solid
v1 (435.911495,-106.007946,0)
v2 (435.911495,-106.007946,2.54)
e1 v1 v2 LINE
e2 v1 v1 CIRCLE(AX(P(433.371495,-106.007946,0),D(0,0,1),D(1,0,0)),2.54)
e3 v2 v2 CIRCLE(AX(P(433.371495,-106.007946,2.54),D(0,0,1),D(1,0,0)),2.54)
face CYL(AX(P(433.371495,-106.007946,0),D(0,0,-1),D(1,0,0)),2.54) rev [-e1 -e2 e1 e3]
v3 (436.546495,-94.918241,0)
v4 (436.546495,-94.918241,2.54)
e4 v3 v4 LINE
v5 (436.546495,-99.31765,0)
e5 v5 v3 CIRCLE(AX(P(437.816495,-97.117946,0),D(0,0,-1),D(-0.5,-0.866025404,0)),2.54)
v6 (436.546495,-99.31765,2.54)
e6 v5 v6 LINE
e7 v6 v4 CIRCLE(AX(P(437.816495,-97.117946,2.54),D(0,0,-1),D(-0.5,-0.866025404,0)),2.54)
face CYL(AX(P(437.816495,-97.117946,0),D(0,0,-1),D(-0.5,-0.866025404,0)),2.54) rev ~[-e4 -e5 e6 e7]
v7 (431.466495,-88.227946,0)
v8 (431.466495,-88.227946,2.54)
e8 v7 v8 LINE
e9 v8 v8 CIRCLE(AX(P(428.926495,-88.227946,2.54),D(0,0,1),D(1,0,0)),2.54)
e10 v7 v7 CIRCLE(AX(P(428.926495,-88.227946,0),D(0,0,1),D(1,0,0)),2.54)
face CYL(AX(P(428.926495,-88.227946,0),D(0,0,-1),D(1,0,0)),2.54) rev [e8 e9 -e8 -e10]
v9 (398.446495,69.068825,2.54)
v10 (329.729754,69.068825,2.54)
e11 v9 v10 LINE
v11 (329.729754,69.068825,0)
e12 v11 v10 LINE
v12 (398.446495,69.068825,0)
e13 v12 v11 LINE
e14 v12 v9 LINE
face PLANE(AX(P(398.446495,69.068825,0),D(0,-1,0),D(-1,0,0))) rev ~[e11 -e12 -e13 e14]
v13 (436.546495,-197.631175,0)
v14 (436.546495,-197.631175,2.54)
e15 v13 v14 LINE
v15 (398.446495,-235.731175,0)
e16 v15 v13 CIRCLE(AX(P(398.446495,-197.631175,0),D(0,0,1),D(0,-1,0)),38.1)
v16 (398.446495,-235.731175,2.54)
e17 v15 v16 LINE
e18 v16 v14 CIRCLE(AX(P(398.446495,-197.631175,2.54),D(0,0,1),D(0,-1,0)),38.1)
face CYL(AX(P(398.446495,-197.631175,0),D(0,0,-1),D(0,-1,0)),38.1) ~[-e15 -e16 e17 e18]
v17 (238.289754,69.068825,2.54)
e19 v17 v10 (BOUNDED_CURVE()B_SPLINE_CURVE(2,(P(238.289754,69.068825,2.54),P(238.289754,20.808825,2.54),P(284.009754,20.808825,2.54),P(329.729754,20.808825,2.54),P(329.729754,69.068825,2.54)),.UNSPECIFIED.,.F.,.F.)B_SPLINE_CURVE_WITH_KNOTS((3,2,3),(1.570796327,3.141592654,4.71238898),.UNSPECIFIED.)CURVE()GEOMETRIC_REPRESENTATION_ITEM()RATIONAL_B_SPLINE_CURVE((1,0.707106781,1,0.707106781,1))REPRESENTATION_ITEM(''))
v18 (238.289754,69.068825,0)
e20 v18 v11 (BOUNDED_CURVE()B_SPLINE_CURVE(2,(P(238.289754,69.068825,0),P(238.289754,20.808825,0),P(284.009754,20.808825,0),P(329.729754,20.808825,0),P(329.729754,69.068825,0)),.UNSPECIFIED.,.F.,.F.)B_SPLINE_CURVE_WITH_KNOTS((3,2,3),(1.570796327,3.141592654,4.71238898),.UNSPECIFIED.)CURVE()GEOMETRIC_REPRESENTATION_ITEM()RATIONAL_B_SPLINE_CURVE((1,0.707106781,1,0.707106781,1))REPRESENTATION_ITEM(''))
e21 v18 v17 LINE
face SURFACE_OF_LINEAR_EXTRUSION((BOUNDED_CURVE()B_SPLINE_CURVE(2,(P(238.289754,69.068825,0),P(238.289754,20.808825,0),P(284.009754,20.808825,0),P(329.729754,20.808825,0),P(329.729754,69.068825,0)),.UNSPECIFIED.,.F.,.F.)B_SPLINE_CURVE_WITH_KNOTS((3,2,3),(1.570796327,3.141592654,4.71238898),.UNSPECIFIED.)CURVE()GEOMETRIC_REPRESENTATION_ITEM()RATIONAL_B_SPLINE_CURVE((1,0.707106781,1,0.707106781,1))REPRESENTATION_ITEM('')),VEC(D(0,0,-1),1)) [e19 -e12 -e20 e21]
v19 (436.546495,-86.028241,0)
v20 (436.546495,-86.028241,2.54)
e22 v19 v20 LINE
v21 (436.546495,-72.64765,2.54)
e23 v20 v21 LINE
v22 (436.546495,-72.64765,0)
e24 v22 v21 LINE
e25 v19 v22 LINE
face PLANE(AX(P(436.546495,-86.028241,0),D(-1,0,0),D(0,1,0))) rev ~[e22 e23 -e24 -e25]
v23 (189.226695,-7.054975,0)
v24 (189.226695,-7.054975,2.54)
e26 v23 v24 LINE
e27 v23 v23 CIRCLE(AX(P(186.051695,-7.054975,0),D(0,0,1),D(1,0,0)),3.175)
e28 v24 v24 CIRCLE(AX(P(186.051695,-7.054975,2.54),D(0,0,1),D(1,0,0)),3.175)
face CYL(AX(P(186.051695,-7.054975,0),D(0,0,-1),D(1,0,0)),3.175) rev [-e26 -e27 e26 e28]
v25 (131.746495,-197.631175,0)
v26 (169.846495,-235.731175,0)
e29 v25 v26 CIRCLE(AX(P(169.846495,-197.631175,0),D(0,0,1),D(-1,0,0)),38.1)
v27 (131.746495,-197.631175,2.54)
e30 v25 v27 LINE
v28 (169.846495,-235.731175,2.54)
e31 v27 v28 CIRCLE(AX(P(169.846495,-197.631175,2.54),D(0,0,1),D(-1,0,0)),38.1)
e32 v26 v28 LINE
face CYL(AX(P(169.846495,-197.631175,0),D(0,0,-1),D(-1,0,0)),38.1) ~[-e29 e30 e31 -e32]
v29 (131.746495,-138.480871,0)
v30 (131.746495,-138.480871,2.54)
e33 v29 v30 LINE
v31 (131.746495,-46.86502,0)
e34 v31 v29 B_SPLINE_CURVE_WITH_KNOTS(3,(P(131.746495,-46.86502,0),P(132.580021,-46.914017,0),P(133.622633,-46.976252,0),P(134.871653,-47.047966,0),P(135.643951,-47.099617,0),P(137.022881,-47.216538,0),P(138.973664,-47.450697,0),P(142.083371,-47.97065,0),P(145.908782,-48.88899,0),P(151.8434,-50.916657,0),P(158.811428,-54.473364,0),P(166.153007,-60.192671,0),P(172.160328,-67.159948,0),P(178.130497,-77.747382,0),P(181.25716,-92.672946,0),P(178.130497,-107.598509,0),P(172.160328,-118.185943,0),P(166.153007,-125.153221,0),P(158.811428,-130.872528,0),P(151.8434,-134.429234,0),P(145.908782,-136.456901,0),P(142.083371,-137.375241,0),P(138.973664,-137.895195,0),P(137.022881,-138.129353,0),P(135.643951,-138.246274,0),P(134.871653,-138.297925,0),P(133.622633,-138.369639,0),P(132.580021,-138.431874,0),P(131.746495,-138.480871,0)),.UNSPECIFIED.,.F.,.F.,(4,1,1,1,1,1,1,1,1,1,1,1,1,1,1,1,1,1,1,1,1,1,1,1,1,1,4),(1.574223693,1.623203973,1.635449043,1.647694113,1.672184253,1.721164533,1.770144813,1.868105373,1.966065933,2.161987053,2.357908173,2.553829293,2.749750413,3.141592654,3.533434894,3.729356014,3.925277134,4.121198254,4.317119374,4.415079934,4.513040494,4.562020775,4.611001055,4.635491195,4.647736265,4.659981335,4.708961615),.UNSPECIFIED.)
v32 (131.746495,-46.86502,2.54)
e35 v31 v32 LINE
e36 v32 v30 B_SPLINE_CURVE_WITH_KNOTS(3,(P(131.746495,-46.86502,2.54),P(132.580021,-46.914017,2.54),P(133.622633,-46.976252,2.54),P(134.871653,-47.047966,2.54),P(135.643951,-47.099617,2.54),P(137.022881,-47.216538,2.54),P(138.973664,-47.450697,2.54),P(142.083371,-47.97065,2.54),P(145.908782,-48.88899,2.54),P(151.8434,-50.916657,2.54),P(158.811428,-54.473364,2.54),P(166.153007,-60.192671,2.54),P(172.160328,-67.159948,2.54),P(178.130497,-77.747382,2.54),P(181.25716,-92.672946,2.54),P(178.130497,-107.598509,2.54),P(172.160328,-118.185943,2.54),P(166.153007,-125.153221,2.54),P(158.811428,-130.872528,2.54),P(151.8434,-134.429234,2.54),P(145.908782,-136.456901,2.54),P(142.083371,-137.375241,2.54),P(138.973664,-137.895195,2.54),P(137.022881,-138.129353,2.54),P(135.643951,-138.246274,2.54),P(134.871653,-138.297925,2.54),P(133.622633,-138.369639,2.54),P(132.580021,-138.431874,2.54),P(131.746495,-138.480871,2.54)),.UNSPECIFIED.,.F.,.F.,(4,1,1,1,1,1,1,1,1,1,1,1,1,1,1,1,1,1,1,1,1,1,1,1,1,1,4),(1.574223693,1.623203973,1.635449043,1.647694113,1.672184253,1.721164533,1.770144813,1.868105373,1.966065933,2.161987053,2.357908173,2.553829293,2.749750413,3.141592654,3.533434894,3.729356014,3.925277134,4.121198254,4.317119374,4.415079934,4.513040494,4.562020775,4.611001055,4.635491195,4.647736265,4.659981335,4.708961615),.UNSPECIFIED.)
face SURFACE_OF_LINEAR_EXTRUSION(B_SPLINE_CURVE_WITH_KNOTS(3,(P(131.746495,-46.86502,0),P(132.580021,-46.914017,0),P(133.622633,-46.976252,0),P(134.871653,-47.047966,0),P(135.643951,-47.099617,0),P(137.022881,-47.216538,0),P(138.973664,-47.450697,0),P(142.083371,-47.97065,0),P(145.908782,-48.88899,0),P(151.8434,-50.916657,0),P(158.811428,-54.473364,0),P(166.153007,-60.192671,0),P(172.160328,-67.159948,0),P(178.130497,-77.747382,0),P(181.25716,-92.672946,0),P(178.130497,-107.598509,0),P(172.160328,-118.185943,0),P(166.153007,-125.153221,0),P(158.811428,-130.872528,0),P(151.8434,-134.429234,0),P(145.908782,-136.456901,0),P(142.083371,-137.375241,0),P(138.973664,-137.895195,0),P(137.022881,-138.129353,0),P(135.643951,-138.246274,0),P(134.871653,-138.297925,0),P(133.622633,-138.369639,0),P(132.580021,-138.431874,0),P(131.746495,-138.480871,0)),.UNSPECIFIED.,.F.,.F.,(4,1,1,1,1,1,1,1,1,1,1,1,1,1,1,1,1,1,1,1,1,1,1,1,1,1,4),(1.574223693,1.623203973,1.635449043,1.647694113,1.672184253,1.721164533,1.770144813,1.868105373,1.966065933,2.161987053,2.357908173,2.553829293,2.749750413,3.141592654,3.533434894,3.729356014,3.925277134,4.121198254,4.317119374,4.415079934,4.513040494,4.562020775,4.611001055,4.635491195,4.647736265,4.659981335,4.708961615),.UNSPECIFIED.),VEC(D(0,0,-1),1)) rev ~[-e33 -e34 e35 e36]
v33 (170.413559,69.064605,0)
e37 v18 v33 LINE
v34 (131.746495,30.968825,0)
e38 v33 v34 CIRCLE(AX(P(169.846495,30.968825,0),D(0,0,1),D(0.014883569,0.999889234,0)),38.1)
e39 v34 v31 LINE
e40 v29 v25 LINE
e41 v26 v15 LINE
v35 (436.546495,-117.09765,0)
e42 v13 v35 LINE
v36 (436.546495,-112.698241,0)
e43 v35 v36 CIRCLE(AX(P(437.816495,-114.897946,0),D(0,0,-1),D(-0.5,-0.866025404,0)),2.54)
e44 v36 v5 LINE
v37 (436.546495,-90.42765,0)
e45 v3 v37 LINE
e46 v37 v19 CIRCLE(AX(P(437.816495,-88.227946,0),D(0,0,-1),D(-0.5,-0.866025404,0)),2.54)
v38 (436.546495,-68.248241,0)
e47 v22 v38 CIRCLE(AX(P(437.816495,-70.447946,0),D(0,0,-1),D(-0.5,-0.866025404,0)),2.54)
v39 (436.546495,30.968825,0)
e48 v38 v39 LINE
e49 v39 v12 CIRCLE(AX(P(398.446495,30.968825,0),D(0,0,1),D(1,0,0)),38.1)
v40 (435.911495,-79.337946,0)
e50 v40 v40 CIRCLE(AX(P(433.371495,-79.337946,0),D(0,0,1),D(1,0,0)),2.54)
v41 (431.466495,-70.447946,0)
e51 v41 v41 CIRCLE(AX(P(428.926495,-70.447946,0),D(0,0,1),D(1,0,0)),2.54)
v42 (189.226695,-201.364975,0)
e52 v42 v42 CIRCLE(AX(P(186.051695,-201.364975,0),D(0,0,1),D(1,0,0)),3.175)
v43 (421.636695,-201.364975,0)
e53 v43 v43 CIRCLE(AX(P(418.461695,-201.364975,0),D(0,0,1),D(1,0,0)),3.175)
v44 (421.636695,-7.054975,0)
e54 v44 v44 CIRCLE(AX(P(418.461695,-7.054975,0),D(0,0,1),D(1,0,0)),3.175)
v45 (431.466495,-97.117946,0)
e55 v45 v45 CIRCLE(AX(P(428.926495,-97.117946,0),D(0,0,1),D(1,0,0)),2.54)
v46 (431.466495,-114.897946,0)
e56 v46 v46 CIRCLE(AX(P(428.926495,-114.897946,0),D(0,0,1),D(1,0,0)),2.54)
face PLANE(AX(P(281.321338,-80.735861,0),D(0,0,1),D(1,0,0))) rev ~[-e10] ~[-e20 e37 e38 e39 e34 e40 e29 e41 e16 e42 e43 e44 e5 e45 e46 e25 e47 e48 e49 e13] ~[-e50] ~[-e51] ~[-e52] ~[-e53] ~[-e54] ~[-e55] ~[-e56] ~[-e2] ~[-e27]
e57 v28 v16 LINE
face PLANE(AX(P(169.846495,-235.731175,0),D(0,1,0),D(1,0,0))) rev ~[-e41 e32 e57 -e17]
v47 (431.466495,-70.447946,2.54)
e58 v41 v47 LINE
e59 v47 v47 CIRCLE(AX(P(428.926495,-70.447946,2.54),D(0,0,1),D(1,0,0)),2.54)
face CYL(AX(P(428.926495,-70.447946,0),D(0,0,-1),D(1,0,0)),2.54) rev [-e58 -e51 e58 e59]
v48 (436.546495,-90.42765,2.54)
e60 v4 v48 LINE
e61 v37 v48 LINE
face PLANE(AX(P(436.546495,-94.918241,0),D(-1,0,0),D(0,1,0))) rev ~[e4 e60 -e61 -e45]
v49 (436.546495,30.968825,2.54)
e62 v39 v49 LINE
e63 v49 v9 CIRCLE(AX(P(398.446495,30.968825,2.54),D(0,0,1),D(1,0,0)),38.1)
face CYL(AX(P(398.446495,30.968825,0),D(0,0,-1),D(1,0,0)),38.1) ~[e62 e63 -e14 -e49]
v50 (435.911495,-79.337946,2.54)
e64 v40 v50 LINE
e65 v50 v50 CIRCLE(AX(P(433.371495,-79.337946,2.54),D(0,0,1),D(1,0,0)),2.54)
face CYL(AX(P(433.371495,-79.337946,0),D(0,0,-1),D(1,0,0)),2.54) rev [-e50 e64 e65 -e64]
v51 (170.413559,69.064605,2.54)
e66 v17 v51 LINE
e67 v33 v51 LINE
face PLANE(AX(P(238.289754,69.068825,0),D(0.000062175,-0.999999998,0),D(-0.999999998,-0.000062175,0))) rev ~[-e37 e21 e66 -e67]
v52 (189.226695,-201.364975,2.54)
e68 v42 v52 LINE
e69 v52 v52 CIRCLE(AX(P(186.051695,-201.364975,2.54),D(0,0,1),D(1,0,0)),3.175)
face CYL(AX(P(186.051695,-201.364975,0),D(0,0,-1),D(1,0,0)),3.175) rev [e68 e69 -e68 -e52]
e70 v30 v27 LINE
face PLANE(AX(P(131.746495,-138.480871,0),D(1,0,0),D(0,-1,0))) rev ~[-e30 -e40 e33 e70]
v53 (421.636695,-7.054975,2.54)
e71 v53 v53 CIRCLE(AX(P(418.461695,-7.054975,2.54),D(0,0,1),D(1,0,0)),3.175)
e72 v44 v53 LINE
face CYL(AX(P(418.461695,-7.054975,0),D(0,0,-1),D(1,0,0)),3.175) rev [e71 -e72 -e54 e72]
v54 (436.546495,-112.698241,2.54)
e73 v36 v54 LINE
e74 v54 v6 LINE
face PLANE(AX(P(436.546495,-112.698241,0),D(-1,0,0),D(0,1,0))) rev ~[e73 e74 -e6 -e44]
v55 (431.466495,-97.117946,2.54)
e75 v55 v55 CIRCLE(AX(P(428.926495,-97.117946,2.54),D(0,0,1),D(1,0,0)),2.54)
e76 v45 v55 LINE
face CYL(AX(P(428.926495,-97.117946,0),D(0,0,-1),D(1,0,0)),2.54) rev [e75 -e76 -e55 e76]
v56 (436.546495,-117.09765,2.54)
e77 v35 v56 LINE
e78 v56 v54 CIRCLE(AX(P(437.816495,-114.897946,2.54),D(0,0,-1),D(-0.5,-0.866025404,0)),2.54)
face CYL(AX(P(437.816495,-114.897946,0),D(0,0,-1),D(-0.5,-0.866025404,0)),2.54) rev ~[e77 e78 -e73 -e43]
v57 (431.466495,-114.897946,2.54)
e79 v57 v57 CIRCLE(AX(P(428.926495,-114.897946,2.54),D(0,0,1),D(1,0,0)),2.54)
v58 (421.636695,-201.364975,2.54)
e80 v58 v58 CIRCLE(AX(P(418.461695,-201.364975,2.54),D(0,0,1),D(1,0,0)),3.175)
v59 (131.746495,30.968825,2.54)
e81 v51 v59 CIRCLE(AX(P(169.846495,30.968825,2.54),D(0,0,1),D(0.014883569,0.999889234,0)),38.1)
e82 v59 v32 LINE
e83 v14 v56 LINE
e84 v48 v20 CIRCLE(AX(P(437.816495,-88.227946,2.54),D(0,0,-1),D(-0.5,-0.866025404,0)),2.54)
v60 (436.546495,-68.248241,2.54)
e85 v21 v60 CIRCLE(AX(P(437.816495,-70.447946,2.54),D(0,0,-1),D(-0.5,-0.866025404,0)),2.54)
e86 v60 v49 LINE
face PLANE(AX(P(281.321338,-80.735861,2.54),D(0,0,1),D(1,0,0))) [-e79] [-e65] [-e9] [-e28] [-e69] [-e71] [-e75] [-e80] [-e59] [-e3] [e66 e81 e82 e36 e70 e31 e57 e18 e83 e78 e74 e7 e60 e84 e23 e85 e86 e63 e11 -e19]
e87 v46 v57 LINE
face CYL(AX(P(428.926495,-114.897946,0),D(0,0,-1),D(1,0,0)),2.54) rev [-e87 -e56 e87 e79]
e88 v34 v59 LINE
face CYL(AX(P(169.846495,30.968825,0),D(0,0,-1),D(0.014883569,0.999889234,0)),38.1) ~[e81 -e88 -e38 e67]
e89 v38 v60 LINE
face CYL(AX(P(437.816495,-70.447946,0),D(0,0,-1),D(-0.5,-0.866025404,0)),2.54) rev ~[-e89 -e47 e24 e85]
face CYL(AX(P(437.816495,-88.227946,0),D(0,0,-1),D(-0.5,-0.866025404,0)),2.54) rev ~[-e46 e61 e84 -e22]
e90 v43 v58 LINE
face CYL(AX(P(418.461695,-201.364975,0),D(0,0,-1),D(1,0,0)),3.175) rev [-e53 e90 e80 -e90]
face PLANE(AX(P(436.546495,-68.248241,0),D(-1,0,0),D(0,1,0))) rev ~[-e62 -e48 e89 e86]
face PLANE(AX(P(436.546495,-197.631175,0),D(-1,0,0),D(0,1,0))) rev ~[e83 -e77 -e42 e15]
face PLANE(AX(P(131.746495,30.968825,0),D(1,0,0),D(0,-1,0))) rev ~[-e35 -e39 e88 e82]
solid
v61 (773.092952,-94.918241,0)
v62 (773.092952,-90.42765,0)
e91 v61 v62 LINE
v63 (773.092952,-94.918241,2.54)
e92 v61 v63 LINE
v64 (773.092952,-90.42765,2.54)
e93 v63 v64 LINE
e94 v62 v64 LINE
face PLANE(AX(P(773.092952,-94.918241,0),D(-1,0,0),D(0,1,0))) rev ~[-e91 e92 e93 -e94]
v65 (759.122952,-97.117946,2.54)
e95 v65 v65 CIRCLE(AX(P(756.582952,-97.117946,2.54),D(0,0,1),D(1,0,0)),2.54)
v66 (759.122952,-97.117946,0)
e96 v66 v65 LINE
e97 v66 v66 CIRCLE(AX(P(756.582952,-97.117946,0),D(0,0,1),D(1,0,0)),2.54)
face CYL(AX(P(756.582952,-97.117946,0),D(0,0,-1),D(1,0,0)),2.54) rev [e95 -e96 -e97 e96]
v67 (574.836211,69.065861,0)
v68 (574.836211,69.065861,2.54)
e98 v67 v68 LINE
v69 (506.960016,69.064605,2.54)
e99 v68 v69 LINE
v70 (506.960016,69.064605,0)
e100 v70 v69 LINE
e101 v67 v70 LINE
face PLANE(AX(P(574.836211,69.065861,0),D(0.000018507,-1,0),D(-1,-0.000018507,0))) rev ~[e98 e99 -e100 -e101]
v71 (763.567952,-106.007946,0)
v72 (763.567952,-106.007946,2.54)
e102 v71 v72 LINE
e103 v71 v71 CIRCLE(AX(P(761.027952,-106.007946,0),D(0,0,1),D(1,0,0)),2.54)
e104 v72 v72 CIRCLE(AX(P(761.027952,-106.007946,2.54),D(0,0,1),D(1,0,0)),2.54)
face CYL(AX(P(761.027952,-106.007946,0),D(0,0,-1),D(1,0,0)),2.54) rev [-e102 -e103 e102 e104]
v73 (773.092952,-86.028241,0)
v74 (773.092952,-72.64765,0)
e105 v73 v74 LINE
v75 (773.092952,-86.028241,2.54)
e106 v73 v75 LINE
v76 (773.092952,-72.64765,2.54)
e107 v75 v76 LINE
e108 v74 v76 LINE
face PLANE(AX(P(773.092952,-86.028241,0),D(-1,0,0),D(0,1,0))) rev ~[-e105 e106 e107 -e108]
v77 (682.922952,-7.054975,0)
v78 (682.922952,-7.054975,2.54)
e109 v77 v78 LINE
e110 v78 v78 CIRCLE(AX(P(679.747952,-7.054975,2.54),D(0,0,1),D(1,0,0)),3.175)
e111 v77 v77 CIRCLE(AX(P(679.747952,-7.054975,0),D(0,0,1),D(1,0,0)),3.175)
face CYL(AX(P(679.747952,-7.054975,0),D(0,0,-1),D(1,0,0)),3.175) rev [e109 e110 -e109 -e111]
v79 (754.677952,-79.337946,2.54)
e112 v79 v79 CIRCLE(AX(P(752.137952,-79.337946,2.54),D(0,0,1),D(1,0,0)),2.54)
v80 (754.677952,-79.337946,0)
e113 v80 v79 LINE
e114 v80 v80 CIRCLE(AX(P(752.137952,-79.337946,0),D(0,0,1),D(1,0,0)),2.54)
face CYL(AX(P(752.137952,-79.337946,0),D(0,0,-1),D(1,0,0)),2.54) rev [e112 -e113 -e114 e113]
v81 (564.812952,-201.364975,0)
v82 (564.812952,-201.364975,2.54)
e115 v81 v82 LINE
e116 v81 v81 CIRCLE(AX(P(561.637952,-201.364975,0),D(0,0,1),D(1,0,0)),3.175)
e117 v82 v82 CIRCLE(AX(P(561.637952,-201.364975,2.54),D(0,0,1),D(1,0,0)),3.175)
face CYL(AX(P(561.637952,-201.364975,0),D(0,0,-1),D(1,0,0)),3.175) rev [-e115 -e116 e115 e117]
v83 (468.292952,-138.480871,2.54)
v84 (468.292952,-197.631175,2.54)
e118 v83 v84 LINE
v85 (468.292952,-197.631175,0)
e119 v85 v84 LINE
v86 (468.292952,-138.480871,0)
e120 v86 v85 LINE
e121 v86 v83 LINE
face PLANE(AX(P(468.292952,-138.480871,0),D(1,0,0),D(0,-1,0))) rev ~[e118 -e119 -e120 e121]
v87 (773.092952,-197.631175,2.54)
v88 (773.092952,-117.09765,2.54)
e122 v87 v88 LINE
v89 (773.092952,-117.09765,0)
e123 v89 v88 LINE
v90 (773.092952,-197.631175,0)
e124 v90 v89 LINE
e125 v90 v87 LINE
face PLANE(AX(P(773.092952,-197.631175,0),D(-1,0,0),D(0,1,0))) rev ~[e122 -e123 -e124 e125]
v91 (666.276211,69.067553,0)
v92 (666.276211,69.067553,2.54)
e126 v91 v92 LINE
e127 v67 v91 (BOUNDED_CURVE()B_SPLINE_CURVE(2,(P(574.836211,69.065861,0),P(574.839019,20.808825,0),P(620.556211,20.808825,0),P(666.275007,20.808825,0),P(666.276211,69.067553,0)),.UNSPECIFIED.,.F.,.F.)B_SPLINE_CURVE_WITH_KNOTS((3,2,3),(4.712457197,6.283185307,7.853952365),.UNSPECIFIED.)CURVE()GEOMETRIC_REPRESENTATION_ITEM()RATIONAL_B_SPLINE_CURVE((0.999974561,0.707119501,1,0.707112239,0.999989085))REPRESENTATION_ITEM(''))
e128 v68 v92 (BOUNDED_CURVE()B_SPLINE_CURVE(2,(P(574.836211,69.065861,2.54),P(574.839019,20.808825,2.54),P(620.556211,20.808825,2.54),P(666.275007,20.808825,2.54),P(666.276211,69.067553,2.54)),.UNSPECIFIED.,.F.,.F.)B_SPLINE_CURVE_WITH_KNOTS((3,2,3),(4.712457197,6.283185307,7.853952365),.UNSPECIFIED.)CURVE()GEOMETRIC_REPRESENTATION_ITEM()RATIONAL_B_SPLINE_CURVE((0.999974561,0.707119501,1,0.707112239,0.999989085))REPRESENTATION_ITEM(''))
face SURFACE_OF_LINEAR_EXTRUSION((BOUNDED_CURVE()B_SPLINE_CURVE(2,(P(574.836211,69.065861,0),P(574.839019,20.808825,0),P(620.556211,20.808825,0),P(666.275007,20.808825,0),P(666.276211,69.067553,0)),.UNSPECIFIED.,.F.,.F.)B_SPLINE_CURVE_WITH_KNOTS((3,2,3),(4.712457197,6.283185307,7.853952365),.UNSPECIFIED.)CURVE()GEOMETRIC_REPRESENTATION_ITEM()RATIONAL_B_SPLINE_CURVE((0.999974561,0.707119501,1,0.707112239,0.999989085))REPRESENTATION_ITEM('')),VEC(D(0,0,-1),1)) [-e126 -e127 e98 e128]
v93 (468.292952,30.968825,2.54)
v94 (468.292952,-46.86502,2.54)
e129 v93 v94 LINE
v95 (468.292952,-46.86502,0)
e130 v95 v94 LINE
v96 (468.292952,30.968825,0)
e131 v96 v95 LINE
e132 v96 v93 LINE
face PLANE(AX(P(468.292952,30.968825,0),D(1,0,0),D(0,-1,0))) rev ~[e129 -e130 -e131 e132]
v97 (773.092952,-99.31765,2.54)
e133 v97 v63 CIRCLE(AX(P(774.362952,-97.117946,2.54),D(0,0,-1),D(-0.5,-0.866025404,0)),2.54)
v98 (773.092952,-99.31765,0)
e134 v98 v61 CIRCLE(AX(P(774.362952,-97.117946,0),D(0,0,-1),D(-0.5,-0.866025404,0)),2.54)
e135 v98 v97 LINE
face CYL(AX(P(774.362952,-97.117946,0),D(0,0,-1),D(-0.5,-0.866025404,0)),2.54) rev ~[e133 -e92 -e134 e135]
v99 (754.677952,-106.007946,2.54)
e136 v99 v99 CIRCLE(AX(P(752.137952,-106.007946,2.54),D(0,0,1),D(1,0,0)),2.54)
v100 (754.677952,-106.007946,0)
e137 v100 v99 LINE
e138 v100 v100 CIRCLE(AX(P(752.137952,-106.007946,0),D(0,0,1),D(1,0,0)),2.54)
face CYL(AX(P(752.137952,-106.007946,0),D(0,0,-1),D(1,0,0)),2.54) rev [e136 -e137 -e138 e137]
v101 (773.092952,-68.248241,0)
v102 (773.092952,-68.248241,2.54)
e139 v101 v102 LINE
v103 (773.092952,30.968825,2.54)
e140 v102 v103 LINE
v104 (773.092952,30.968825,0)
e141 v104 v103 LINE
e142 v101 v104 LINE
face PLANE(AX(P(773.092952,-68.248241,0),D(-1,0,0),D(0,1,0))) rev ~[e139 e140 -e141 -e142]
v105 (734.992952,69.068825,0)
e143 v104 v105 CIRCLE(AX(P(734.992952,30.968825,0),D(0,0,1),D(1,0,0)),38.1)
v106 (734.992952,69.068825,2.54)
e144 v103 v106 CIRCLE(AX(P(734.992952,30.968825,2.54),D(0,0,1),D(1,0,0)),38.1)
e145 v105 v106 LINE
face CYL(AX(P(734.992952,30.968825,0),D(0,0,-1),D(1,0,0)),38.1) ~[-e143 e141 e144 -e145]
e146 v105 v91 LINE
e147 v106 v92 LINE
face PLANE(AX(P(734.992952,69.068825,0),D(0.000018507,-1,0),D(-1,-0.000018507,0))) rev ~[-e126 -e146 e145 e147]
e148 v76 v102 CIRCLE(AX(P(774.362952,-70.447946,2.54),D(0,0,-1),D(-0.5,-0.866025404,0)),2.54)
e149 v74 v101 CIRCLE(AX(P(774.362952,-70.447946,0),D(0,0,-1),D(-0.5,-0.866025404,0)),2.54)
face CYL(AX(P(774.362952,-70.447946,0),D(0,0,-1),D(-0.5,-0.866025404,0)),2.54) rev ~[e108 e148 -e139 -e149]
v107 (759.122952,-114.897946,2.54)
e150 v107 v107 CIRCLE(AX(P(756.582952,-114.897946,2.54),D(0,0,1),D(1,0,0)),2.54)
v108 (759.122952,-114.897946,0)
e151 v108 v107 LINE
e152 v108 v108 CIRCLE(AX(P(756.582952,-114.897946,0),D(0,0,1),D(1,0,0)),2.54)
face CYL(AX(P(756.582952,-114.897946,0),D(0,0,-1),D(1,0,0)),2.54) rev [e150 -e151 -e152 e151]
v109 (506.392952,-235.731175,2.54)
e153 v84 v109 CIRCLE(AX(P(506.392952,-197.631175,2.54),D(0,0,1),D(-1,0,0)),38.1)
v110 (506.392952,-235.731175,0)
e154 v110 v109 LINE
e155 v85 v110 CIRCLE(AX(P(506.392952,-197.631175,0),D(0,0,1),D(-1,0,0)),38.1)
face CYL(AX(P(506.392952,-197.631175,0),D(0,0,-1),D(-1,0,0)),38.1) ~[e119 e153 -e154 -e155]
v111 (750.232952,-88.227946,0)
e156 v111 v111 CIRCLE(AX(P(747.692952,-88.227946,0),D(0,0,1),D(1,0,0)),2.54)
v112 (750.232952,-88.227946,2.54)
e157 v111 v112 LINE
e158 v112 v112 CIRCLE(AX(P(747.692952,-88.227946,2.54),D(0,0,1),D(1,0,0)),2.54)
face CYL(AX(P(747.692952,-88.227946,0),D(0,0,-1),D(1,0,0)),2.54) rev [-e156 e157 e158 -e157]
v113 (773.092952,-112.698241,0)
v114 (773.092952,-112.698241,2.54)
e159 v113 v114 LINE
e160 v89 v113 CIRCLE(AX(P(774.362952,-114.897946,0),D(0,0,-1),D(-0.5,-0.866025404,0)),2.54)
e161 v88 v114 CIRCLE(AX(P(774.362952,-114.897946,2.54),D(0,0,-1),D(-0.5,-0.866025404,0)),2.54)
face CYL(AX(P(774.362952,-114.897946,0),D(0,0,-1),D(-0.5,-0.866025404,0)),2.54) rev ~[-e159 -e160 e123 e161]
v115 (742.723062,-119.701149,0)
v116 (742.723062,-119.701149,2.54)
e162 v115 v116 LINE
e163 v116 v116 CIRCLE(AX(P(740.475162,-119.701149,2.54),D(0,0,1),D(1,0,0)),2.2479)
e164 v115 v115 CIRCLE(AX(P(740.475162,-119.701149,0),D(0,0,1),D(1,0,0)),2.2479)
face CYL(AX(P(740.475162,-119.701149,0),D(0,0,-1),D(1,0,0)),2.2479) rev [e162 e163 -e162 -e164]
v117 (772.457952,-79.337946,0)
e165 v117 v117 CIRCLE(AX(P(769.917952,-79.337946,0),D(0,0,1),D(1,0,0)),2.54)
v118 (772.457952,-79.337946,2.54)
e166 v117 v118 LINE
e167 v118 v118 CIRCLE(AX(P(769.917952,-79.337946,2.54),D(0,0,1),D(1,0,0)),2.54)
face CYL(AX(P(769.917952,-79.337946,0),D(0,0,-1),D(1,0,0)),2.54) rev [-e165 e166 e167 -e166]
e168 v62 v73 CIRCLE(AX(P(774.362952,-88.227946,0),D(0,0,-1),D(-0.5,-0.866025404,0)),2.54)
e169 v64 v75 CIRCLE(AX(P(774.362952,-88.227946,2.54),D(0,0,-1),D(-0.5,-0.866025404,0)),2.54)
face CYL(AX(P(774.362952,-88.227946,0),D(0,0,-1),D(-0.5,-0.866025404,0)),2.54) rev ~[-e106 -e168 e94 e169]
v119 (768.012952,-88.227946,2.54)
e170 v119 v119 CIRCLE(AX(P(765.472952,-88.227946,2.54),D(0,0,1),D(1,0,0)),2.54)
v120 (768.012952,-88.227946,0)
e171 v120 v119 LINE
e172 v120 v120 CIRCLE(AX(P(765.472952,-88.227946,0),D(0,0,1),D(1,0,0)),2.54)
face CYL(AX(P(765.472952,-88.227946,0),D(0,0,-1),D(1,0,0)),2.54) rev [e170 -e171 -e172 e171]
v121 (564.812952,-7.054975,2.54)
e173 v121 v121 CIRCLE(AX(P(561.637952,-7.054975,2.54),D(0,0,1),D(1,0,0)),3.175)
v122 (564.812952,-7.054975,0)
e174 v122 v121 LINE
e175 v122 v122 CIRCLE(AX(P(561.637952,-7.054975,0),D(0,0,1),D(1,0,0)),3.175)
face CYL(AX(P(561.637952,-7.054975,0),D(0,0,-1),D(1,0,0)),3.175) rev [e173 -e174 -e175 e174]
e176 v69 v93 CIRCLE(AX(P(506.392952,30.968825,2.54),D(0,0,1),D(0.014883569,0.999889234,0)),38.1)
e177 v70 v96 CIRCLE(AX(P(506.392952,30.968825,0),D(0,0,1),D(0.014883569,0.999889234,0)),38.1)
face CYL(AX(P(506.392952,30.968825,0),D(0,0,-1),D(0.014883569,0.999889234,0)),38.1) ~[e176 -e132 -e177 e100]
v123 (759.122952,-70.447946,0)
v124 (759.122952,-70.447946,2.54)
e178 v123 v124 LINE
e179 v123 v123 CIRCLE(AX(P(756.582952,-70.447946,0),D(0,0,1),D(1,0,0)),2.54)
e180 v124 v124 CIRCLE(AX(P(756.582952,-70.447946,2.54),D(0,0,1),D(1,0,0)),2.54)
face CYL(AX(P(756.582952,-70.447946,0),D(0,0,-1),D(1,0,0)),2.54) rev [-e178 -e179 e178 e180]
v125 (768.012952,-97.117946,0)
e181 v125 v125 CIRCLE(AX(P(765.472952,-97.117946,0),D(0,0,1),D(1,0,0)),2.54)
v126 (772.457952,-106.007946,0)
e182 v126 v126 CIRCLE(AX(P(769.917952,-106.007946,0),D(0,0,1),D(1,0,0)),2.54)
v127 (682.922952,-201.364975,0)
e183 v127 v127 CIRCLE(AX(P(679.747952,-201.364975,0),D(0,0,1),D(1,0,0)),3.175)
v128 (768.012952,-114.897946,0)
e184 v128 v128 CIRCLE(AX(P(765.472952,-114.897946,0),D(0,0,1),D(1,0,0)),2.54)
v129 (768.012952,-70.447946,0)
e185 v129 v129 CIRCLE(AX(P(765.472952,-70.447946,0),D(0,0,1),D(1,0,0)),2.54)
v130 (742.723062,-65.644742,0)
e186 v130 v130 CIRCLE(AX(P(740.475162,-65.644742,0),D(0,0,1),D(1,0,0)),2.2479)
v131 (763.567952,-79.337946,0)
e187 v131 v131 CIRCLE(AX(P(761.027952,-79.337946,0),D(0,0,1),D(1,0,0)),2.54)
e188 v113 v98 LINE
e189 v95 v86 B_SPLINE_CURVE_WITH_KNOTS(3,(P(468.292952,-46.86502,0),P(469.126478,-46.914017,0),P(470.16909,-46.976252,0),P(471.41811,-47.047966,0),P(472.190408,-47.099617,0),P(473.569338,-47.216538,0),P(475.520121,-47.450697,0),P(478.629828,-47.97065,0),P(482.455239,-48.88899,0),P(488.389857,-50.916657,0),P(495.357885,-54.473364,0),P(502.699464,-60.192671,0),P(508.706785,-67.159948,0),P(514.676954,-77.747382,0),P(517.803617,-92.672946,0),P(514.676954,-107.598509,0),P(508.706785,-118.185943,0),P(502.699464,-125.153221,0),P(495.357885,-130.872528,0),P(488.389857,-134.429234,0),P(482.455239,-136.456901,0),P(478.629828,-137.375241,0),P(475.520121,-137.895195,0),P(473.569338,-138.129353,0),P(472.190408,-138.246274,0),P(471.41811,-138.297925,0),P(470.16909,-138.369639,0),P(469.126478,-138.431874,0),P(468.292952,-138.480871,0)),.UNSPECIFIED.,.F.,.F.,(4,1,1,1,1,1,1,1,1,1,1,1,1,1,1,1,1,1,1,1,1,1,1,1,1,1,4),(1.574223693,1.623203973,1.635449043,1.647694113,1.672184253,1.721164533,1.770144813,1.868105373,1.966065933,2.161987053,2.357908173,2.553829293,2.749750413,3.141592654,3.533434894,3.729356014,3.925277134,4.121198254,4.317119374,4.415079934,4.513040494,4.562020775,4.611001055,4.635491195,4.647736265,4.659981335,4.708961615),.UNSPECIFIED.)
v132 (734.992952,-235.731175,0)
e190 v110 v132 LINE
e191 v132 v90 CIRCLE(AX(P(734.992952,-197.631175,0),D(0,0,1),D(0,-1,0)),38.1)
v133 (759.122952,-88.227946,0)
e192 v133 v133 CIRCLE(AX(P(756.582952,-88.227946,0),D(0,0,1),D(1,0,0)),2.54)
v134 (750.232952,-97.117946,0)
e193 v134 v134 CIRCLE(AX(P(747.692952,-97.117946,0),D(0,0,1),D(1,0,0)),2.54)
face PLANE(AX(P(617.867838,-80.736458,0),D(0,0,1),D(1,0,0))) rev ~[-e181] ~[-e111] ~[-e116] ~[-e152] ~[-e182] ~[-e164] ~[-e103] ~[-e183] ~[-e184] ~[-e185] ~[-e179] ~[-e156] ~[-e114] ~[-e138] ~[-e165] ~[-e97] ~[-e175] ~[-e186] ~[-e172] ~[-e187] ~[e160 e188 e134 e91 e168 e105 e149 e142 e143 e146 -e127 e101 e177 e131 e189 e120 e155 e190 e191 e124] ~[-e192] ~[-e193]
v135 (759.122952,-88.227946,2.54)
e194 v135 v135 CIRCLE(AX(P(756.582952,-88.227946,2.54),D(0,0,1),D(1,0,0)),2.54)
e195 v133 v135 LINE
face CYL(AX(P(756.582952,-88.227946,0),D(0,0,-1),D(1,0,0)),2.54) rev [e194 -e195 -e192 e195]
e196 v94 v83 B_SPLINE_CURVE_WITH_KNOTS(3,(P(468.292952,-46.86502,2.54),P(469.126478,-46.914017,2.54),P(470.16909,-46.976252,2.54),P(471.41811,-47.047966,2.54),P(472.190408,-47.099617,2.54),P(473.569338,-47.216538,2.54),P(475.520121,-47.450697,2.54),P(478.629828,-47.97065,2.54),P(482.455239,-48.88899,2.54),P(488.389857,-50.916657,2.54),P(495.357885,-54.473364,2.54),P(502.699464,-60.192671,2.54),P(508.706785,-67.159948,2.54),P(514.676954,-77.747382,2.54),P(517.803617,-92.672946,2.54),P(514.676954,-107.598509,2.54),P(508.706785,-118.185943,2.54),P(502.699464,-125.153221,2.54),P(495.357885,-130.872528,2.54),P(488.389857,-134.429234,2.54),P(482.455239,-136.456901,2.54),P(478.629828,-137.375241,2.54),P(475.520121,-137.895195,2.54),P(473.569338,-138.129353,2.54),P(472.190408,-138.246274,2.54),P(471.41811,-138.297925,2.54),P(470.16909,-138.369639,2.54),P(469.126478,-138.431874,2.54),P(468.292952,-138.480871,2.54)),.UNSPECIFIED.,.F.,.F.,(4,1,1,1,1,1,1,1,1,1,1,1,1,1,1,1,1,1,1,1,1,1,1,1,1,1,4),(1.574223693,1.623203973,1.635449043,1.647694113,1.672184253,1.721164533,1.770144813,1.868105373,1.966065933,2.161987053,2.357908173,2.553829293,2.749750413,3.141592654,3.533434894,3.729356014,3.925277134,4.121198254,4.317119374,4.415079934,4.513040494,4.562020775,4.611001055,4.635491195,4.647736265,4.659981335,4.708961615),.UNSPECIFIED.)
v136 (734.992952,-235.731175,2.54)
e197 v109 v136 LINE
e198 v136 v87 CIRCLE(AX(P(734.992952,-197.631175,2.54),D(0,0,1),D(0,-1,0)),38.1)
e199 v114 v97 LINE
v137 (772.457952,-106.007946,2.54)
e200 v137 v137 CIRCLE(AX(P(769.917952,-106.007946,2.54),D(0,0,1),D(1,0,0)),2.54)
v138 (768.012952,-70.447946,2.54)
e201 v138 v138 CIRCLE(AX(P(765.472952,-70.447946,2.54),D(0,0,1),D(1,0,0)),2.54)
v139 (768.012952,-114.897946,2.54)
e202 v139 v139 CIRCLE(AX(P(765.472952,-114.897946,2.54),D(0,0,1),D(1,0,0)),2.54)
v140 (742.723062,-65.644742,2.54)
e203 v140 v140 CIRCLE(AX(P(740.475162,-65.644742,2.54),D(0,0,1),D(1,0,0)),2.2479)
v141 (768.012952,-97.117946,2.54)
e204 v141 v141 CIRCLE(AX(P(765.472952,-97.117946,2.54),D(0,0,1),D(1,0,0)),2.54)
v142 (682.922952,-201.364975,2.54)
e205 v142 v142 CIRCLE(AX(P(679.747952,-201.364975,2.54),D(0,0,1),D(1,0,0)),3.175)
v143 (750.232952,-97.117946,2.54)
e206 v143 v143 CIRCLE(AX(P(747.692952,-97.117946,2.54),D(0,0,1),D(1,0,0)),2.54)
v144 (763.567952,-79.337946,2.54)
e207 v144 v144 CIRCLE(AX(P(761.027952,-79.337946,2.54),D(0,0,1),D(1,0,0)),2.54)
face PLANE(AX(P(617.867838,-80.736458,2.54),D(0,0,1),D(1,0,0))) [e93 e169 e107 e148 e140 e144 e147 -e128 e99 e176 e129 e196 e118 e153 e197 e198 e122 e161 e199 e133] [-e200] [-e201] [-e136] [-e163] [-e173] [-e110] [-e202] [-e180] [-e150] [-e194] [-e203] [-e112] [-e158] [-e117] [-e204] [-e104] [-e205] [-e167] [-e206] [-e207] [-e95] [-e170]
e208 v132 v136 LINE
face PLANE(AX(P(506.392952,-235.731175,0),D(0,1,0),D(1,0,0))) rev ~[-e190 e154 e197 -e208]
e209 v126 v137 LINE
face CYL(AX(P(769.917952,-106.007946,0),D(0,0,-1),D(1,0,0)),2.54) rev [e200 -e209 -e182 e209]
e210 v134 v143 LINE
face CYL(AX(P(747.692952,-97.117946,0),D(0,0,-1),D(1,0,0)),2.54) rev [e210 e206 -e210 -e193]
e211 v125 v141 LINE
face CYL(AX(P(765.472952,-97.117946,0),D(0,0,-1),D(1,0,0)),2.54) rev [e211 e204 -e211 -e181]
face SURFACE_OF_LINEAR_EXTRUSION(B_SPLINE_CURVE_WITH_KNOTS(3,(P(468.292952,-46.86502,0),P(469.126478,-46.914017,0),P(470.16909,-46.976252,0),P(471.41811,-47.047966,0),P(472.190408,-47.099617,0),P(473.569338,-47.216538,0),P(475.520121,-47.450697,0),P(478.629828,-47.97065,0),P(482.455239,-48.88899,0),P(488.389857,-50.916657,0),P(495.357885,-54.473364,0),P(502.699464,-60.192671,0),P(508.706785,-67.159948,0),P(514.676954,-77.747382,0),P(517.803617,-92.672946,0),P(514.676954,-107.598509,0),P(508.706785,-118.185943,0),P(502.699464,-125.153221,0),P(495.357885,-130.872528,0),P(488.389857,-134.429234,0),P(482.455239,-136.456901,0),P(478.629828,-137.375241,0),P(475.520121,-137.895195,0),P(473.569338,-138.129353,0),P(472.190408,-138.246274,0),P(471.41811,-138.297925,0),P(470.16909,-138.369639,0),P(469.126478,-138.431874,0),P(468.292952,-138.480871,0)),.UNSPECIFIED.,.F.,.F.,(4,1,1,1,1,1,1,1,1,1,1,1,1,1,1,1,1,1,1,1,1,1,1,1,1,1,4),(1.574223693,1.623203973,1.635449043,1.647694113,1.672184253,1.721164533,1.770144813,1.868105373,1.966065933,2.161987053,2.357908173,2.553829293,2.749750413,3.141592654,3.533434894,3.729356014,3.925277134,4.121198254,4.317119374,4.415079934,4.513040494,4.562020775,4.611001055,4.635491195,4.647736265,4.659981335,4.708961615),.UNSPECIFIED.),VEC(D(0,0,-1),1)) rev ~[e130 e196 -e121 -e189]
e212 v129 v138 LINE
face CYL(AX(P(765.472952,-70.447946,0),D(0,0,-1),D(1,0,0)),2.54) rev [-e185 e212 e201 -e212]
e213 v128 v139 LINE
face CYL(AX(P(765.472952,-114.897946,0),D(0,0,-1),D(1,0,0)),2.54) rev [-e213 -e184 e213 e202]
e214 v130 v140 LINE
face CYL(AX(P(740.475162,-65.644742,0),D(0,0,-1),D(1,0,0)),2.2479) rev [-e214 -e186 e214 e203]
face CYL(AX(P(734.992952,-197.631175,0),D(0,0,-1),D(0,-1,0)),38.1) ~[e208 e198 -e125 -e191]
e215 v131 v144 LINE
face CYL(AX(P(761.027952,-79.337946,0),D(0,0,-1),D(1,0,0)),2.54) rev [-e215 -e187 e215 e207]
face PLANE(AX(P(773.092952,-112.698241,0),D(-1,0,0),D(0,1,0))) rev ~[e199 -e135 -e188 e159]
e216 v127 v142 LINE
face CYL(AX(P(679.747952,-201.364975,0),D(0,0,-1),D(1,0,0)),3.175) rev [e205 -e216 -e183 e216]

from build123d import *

# Parameters (mm, degrees)
SKETCH1_R             = 3.175
SKETCH1_R_2           = 2.54
BOSS_EXTRUDE1_DEPTH   = 2.54
SKETCH1_R_3           = 2.2479
BOSS_EXTRUDE1_2_DEPTH = 2.54


with BuildPart() as part:
    # Sketch1 → Boss-Extrude1 (new body)
    with BuildSketch(Plane.XY):
        with BuildLine():
            Line((436.546494745, -68.248241138), (436.546494745, 30.968825026))
            ThreePointArc((436.546494745, 30.968825026), (425.387263108, 57.90959339), (398.446494745, 69.068825026))
            Line((398.446494745, 69.068825026), (329.729754398, 69.068825026))
            add(Edge.make_bspline(
                [(238.289754398, 69.068825026), (238.289754398, 20.808825026), (284.009754398, 20.808825026), (329.729754398, 20.808825026), (329.729754398, 69.068825026)],
                knots=[1.570796327, 1.570796327, 1.570796327, 3.141592654, 3.141592654, 4.71238898, 4.71238898, 4.71238898], degree=2, weights=[1, 0.707106781, 1, 0.707106781, 1]))
            Line((238.289754398, 69.068825026), (170.413558712, 69.064604825))
            ThreePointArc((170.413558712, 69.064604825), (143.106965366, 58.109340286), (131.746494745, 30.968825026))
            Line((131.746494745, 30.968825026), (131.746494745, -46.865020315))
            add(Edge.make_bspline(
                [(131.746494745, -46.865020315), (132.580020786, -46.914016889), (133.622633301, -46.976252059), (134.871653426, -47.047965905), (135.643950912, -47.099617088), (137.02288068, -47.216537841), (138.97366436, -47.450696512), (142.083370752, -47.970650492), (145.908781969, -48.888990347), (151.84340007, -50.916657488), (158.811428431, -54.473363662), (166.153007291, -60.192670592), (172.160328075, -67.159948003), (178.130496756, -77.747382085), (181.257160071, -92.672945664), (178.130496756, -107.598509243), (172.160328075, -118.185943324), (166.153007291, -125.153220735), (158.811428431, -130.872527665), (151.84340007, -134.429233839), (145.908781969, -136.45690098), (142.083370752, -137.375240836), (138.97366436, -137.895194815), (137.02288068, -138.129353486), (135.643950912, -138.246274239), (134.871653426, -138.297925422), (133.622633301, -138.369639268), (132.580020786, -138.431874438), (131.746494745, -138.480871013)],
                knots=[1.574223693, 1.574223693, 1.574223693, 1.574223693, 1.623203973, 1.635449043, 1.647694113, 1.672184253, 1.721164533, 1.770144813, 1.868105373, 1.966065933, 2.161987053, 2.357908173, 2.553829293, 2.749750413, 3.141592654, 3.533434894, 3.729356014, 3.925277134, 4.121198254, 4.317119374, 4.415079934, 4.513040494, 4.562020775, 4.611001055, 4.635491195, 4.647736265, 4.659981335, 4.708961615, 4.708961615, 4.708961615, 4.708961615], degree=3))
            Line((131.746494745, -138.480871013), (131.746494745, -197.631174974))
            ThreePointArc((131.746494745, -197.631174974), (142.905726382, -224.571943337), (169.846494745, -235.731174974))
            Line((169.846494745, -235.731174974), (398.446494745, -235.731174974))
            ThreePointArc((398.446494745, -235.731174974), (425.387263108, -224.571943337), (436.546494745, -197.631174974))
            Line((436.546494745, -197.631174974), (436.546494745, -117.097650189))
            ThreePointArc((436.546494745, -117.097650189), (435.276494745, -114.897945664), (436.546494745, -112.698241138))
            Line((436.546494745, -112.698241138), (436.546494745, -99.317650189))
            ThreePointArc((436.546494745, -99.317650189), (435.276494745, -97.117945664), (436.546494745, -94.918241138))
            Line((436.546494745, -94.918241138), (436.546494745, -90.427650189))
            ThreePointArc((436.546494745, -90.427650189), (435.276494745, -88.227945664), (436.546494745, -86.028241138))
            Line((436.546494745, -86.028241138), (436.546494745, -72.647650189))
            ThreePointArc((436.546494745, -72.647650189), (435.276494745, -70.447945664), (436.546494745, -68.248241138))
        make_face()
        with Locations((186.051694745, -201.364974974)):
            Circle(SKETCH1_R, mode=Mode.SUBTRACT)
        with Locations((418.461694745, -201.364974974)):
            Circle(SKETCH1_R, mode=Mode.SUBTRACT)
        with Locations((428.926494745, -114.897945664)):
            Circle(SKETCH1_R_2, mode=Mode.SUBTRACT)
        with Locations((433.371494745, -106.007945664)):
            Circle(SKETCH1_R_2, mode=Mode.SUBTRACT)
        with Locations((428.926494745, -97.117945664)):
            Circle(SKETCH1_R_2, mode=Mode.SUBTRACT)
        with Locations((428.926494745, -88.227945664)):
            Circle(SKETCH1_R_2, mode=Mode.SUBTRACT)
        with Locations((433.371494745, -79.337945664)):
            Circle(SKETCH1_R_2, mode=Mode.SUBTRACT)
        with Locations((428.926494745, -70.447945664)):
            Circle(SKETCH1_R_2, mode=Mode.SUBTRACT)
        with Locations((186.051694745, -7.054974974)):
            Circle(SKETCH1_R, mode=Mode.SUBTRACT)
        with Locations((418.461694745, -7.054974974)):
            Circle(SKETCH1_R, mode=Mode.SUBTRACT)
    extrude(amount=BOSS_EXTRUDE1_DEPTH)


with BuildPart() as body_2:
    # Sketch1 → Boss-Extrude1 2 (new body)
    with BuildSketch(Plane.XY):
        with BuildLine():
            Line((773.092951703, -68.248241138), (773.092951703, 30.968825026))
            ThreePointArc((773.092951703, 30.968825026), (761.933720067, 57.90959339), (734.992951703, 69.068825026))
            Line((734.992951703, 69.068825026), (666.276211341, 69.067553287))
            add(Edge.make_bspline(
                [(574.836211443, 69.065861008), (574.839019287, 20.808825026), (620.556211357, 20.808825026), (666.275006567, 20.808825026), (666.276211341, 69.067553287)],
                knots=[4.712457197, 4.712457197, 4.712457197, 6.283185307, 6.283185307, 7.853952365, 7.853952365, 7.853952365], degree=2, weights=[0.999974561, 0.707119501, 1, 0.707112239, 0.999989085]))
            Line((574.836211443, 69.065861008), (506.960015671, 69.064604825))
            ThreePointArc((506.960015671, 69.064604825), (479.653422324, 58.109340286), (468.292951703, 30.968825026))
            Line((468.292951703, 30.968825026), (468.292951703, -46.865020315))
            add(Edge.make_bspline(
                [(468.292951703, -46.865020315), (469.126477744, -46.914016889), (470.16909026, -46.976252059), (471.418110384, -47.047965905), (472.19040787, -47.099617088), (473.569337638, -47.216537841), (475.520121319, -47.450696512), (478.629827711, -47.970650492), (482.455238927, -48.888990347), (488.389857028, -50.916657488), (495.357885389, -54.473363662), (502.699464249, -60.192670592), (508.706785033, -67.159948003), (514.676953714, -77.747382085), (517.803617029, -92.672945664), (514.676953714, -107.598509243), (508.706785033, -118.185943324), (502.699464249, -125.153220735), (495.357885389, -130.872527665), (488.389857028, -134.429233839), (482.455238927, -136.45690098), (478.629827711, -137.375240836), (475.520121319, -137.895194815), (473.569337638, -138.129353486), (472.19040787, -138.246274239), (471.418110384, -138.297925422), (470.16909026, -138.369639268), (469.126477744, -138.431874438), (468.292951703, -138.480871013)],
                knots=[1.574223693, 1.574223693, 1.574223693, 1.574223693, 1.623203973, 1.635449043, 1.647694113, 1.672184253, 1.721164533, 1.770144813, 1.868105373, 1.966065933, 2.161987053, 2.357908173, 2.553829293, 2.749750413, 3.141592654, 3.533434894, 3.729356014, 3.925277134, 4.121198254, 4.317119374, 4.415079934, 4.513040494, 4.562020775, 4.611001055, 4.635491195, 4.647736265, 4.659981335, 4.708961615, 4.708961615, 4.708961615, 4.708961615], degree=3))
            Line((468.292951703, -138.480871013), (468.292951703, -197.631174974))
            ThreePointArc((468.292951703, -197.631174974), (479.45218334, -224.571943337), (506.392951703, -235.731174974))
            Line((506.392951703, -235.731174974), (734.992951703, -235.731174974))
            ThreePointArc((734.992951703, -235.731174974), (761.933720067, -224.571943337), (773.092951703, -197.631174974))
            Line((773.092951703, -197.631174974), (773.092951703, -117.097650189))
            ThreePointArc((773.092951703, -117.097650189), (771.822951703, -114.897945664), (773.092951703, -112.698241138))
            Line((773.092951703, -112.698241138), (773.092951703, -99.317650189))
            ThreePointArc((773.092951703, -99.317650189), (771.822951703, -97.117945664), (773.092951703, -94.918241138))
            Line((773.092951703, -94.918241138), (773.092951703, -90.427650189))
            ThreePointArc((773.092951703, -90.427650189), (771.822951703, -88.227945664), (773.092951703, -86.028241138))
            Line((773.092951703, -86.028241138), (773.092951703, -72.647650189))
            ThreePointArc((773.092951703, -72.647650189), (771.822951703, -70.447945664), (773.092951703, -68.248241138))
        make_face()
        with Locations((561.637951703, -201.364974974)):
            Circle(SKETCH1_R, mode=Mode.SUBTRACT)
        with Locations((679.747951703, -201.364974974)):
            Circle(SKETCH1_R, mode=Mode.SUBTRACT)
        with Locations((740.475162403, -119.701149329)):
            Circle(SKETCH1_R_3, mode=Mode.SUBTRACT)
        with Locations((756.582951703, -114.897945664)):
            Circle(SKETCH1_R_2, mode=Mode.SUBTRACT)
        with Locations((765.472951703, -114.897945664)):
            Circle(SKETCH1_R_2, mode=Mode.SUBTRACT)
        with Locations((752.137951703, -106.007945664)):
            Circle(SKETCH1_R_2, mode=Mode.SUBTRACT)
        with Locations((761.027951703, -106.007945664)):
            Circle(SKETCH1_R_2, mode=Mode.SUBTRACT)
        with Locations((769.917951703, -106.007945664)):
            Circle(SKETCH1_R_2, mode=Mode.SUBTRACT)
        with Locations((747.692951703, -97.117945664)):
            Circle(SKETCH1_R_2, mode=Mode.SUBTRACT)
        with Locations((756.582951703, -97.117945664)):
            Circle(SKETCH1_R_2, mode=Mode.SUBTRACT)
        with Locations((765.472951703, -97.117945664)):
            Circle(SKETCH1_R_2, mode=Mode.SUBTRACT)
        with Locations((747.692951703, -88.227945664)):
            Circle(SKETCH1_R_2, mode=Mode.SUBTRACT)
        with Locations((756.582951703, -88.227945664)):
            Circle(SKETCH1_R_2, mode=Mode.SUBTRACT)
        with Locations((765.472951703, -88.227945664)):
            Circle(SKETCH1_R_2, mode=Mode.SUBTRACT)
        with Locations((752.137951703, -79.337945664)):
            Circle(SKETCH1_R_2, mode=Mode.SUBTRACT)
        with Locations((761.027951703, -79.337945664)):
            Circle(SKETCH1_R_2, mode=Mode.SUBTRACT)
        with Locations((769.917951703, -79.337945664)):
            Circle(SKETCH1_R_2, mode=Mode.SUBTRACT)
        with Locations((740.475162403, -65.644741999)):
            Circle(SKETCH1_R_3, mode=Mode.SUBTRACT)
        with Locations((756.582951703, -70.447945664)):
            Circle(SKETCH1_R_2, mode=Mode.SUBTRACT)
        with Locations((765.472951703, -70.447945664)):
            Circle(SKETCH1_R_2, mode=Mode.SUBTRACT)
        with Locations((561.637951703, -7.054974974)):
            Circle(SKETCH1_R, mode=Mode.SUBTRACT)
        with Locations((679.747951703, -7.054974974)):
            Circle(SKETCH1_R, mode=Mode.SUBTRACT)
    extrude(amount=BOSS_EXTRUDE1_2_DEPTH)


solid = Compound([part.part, body_2.part])
